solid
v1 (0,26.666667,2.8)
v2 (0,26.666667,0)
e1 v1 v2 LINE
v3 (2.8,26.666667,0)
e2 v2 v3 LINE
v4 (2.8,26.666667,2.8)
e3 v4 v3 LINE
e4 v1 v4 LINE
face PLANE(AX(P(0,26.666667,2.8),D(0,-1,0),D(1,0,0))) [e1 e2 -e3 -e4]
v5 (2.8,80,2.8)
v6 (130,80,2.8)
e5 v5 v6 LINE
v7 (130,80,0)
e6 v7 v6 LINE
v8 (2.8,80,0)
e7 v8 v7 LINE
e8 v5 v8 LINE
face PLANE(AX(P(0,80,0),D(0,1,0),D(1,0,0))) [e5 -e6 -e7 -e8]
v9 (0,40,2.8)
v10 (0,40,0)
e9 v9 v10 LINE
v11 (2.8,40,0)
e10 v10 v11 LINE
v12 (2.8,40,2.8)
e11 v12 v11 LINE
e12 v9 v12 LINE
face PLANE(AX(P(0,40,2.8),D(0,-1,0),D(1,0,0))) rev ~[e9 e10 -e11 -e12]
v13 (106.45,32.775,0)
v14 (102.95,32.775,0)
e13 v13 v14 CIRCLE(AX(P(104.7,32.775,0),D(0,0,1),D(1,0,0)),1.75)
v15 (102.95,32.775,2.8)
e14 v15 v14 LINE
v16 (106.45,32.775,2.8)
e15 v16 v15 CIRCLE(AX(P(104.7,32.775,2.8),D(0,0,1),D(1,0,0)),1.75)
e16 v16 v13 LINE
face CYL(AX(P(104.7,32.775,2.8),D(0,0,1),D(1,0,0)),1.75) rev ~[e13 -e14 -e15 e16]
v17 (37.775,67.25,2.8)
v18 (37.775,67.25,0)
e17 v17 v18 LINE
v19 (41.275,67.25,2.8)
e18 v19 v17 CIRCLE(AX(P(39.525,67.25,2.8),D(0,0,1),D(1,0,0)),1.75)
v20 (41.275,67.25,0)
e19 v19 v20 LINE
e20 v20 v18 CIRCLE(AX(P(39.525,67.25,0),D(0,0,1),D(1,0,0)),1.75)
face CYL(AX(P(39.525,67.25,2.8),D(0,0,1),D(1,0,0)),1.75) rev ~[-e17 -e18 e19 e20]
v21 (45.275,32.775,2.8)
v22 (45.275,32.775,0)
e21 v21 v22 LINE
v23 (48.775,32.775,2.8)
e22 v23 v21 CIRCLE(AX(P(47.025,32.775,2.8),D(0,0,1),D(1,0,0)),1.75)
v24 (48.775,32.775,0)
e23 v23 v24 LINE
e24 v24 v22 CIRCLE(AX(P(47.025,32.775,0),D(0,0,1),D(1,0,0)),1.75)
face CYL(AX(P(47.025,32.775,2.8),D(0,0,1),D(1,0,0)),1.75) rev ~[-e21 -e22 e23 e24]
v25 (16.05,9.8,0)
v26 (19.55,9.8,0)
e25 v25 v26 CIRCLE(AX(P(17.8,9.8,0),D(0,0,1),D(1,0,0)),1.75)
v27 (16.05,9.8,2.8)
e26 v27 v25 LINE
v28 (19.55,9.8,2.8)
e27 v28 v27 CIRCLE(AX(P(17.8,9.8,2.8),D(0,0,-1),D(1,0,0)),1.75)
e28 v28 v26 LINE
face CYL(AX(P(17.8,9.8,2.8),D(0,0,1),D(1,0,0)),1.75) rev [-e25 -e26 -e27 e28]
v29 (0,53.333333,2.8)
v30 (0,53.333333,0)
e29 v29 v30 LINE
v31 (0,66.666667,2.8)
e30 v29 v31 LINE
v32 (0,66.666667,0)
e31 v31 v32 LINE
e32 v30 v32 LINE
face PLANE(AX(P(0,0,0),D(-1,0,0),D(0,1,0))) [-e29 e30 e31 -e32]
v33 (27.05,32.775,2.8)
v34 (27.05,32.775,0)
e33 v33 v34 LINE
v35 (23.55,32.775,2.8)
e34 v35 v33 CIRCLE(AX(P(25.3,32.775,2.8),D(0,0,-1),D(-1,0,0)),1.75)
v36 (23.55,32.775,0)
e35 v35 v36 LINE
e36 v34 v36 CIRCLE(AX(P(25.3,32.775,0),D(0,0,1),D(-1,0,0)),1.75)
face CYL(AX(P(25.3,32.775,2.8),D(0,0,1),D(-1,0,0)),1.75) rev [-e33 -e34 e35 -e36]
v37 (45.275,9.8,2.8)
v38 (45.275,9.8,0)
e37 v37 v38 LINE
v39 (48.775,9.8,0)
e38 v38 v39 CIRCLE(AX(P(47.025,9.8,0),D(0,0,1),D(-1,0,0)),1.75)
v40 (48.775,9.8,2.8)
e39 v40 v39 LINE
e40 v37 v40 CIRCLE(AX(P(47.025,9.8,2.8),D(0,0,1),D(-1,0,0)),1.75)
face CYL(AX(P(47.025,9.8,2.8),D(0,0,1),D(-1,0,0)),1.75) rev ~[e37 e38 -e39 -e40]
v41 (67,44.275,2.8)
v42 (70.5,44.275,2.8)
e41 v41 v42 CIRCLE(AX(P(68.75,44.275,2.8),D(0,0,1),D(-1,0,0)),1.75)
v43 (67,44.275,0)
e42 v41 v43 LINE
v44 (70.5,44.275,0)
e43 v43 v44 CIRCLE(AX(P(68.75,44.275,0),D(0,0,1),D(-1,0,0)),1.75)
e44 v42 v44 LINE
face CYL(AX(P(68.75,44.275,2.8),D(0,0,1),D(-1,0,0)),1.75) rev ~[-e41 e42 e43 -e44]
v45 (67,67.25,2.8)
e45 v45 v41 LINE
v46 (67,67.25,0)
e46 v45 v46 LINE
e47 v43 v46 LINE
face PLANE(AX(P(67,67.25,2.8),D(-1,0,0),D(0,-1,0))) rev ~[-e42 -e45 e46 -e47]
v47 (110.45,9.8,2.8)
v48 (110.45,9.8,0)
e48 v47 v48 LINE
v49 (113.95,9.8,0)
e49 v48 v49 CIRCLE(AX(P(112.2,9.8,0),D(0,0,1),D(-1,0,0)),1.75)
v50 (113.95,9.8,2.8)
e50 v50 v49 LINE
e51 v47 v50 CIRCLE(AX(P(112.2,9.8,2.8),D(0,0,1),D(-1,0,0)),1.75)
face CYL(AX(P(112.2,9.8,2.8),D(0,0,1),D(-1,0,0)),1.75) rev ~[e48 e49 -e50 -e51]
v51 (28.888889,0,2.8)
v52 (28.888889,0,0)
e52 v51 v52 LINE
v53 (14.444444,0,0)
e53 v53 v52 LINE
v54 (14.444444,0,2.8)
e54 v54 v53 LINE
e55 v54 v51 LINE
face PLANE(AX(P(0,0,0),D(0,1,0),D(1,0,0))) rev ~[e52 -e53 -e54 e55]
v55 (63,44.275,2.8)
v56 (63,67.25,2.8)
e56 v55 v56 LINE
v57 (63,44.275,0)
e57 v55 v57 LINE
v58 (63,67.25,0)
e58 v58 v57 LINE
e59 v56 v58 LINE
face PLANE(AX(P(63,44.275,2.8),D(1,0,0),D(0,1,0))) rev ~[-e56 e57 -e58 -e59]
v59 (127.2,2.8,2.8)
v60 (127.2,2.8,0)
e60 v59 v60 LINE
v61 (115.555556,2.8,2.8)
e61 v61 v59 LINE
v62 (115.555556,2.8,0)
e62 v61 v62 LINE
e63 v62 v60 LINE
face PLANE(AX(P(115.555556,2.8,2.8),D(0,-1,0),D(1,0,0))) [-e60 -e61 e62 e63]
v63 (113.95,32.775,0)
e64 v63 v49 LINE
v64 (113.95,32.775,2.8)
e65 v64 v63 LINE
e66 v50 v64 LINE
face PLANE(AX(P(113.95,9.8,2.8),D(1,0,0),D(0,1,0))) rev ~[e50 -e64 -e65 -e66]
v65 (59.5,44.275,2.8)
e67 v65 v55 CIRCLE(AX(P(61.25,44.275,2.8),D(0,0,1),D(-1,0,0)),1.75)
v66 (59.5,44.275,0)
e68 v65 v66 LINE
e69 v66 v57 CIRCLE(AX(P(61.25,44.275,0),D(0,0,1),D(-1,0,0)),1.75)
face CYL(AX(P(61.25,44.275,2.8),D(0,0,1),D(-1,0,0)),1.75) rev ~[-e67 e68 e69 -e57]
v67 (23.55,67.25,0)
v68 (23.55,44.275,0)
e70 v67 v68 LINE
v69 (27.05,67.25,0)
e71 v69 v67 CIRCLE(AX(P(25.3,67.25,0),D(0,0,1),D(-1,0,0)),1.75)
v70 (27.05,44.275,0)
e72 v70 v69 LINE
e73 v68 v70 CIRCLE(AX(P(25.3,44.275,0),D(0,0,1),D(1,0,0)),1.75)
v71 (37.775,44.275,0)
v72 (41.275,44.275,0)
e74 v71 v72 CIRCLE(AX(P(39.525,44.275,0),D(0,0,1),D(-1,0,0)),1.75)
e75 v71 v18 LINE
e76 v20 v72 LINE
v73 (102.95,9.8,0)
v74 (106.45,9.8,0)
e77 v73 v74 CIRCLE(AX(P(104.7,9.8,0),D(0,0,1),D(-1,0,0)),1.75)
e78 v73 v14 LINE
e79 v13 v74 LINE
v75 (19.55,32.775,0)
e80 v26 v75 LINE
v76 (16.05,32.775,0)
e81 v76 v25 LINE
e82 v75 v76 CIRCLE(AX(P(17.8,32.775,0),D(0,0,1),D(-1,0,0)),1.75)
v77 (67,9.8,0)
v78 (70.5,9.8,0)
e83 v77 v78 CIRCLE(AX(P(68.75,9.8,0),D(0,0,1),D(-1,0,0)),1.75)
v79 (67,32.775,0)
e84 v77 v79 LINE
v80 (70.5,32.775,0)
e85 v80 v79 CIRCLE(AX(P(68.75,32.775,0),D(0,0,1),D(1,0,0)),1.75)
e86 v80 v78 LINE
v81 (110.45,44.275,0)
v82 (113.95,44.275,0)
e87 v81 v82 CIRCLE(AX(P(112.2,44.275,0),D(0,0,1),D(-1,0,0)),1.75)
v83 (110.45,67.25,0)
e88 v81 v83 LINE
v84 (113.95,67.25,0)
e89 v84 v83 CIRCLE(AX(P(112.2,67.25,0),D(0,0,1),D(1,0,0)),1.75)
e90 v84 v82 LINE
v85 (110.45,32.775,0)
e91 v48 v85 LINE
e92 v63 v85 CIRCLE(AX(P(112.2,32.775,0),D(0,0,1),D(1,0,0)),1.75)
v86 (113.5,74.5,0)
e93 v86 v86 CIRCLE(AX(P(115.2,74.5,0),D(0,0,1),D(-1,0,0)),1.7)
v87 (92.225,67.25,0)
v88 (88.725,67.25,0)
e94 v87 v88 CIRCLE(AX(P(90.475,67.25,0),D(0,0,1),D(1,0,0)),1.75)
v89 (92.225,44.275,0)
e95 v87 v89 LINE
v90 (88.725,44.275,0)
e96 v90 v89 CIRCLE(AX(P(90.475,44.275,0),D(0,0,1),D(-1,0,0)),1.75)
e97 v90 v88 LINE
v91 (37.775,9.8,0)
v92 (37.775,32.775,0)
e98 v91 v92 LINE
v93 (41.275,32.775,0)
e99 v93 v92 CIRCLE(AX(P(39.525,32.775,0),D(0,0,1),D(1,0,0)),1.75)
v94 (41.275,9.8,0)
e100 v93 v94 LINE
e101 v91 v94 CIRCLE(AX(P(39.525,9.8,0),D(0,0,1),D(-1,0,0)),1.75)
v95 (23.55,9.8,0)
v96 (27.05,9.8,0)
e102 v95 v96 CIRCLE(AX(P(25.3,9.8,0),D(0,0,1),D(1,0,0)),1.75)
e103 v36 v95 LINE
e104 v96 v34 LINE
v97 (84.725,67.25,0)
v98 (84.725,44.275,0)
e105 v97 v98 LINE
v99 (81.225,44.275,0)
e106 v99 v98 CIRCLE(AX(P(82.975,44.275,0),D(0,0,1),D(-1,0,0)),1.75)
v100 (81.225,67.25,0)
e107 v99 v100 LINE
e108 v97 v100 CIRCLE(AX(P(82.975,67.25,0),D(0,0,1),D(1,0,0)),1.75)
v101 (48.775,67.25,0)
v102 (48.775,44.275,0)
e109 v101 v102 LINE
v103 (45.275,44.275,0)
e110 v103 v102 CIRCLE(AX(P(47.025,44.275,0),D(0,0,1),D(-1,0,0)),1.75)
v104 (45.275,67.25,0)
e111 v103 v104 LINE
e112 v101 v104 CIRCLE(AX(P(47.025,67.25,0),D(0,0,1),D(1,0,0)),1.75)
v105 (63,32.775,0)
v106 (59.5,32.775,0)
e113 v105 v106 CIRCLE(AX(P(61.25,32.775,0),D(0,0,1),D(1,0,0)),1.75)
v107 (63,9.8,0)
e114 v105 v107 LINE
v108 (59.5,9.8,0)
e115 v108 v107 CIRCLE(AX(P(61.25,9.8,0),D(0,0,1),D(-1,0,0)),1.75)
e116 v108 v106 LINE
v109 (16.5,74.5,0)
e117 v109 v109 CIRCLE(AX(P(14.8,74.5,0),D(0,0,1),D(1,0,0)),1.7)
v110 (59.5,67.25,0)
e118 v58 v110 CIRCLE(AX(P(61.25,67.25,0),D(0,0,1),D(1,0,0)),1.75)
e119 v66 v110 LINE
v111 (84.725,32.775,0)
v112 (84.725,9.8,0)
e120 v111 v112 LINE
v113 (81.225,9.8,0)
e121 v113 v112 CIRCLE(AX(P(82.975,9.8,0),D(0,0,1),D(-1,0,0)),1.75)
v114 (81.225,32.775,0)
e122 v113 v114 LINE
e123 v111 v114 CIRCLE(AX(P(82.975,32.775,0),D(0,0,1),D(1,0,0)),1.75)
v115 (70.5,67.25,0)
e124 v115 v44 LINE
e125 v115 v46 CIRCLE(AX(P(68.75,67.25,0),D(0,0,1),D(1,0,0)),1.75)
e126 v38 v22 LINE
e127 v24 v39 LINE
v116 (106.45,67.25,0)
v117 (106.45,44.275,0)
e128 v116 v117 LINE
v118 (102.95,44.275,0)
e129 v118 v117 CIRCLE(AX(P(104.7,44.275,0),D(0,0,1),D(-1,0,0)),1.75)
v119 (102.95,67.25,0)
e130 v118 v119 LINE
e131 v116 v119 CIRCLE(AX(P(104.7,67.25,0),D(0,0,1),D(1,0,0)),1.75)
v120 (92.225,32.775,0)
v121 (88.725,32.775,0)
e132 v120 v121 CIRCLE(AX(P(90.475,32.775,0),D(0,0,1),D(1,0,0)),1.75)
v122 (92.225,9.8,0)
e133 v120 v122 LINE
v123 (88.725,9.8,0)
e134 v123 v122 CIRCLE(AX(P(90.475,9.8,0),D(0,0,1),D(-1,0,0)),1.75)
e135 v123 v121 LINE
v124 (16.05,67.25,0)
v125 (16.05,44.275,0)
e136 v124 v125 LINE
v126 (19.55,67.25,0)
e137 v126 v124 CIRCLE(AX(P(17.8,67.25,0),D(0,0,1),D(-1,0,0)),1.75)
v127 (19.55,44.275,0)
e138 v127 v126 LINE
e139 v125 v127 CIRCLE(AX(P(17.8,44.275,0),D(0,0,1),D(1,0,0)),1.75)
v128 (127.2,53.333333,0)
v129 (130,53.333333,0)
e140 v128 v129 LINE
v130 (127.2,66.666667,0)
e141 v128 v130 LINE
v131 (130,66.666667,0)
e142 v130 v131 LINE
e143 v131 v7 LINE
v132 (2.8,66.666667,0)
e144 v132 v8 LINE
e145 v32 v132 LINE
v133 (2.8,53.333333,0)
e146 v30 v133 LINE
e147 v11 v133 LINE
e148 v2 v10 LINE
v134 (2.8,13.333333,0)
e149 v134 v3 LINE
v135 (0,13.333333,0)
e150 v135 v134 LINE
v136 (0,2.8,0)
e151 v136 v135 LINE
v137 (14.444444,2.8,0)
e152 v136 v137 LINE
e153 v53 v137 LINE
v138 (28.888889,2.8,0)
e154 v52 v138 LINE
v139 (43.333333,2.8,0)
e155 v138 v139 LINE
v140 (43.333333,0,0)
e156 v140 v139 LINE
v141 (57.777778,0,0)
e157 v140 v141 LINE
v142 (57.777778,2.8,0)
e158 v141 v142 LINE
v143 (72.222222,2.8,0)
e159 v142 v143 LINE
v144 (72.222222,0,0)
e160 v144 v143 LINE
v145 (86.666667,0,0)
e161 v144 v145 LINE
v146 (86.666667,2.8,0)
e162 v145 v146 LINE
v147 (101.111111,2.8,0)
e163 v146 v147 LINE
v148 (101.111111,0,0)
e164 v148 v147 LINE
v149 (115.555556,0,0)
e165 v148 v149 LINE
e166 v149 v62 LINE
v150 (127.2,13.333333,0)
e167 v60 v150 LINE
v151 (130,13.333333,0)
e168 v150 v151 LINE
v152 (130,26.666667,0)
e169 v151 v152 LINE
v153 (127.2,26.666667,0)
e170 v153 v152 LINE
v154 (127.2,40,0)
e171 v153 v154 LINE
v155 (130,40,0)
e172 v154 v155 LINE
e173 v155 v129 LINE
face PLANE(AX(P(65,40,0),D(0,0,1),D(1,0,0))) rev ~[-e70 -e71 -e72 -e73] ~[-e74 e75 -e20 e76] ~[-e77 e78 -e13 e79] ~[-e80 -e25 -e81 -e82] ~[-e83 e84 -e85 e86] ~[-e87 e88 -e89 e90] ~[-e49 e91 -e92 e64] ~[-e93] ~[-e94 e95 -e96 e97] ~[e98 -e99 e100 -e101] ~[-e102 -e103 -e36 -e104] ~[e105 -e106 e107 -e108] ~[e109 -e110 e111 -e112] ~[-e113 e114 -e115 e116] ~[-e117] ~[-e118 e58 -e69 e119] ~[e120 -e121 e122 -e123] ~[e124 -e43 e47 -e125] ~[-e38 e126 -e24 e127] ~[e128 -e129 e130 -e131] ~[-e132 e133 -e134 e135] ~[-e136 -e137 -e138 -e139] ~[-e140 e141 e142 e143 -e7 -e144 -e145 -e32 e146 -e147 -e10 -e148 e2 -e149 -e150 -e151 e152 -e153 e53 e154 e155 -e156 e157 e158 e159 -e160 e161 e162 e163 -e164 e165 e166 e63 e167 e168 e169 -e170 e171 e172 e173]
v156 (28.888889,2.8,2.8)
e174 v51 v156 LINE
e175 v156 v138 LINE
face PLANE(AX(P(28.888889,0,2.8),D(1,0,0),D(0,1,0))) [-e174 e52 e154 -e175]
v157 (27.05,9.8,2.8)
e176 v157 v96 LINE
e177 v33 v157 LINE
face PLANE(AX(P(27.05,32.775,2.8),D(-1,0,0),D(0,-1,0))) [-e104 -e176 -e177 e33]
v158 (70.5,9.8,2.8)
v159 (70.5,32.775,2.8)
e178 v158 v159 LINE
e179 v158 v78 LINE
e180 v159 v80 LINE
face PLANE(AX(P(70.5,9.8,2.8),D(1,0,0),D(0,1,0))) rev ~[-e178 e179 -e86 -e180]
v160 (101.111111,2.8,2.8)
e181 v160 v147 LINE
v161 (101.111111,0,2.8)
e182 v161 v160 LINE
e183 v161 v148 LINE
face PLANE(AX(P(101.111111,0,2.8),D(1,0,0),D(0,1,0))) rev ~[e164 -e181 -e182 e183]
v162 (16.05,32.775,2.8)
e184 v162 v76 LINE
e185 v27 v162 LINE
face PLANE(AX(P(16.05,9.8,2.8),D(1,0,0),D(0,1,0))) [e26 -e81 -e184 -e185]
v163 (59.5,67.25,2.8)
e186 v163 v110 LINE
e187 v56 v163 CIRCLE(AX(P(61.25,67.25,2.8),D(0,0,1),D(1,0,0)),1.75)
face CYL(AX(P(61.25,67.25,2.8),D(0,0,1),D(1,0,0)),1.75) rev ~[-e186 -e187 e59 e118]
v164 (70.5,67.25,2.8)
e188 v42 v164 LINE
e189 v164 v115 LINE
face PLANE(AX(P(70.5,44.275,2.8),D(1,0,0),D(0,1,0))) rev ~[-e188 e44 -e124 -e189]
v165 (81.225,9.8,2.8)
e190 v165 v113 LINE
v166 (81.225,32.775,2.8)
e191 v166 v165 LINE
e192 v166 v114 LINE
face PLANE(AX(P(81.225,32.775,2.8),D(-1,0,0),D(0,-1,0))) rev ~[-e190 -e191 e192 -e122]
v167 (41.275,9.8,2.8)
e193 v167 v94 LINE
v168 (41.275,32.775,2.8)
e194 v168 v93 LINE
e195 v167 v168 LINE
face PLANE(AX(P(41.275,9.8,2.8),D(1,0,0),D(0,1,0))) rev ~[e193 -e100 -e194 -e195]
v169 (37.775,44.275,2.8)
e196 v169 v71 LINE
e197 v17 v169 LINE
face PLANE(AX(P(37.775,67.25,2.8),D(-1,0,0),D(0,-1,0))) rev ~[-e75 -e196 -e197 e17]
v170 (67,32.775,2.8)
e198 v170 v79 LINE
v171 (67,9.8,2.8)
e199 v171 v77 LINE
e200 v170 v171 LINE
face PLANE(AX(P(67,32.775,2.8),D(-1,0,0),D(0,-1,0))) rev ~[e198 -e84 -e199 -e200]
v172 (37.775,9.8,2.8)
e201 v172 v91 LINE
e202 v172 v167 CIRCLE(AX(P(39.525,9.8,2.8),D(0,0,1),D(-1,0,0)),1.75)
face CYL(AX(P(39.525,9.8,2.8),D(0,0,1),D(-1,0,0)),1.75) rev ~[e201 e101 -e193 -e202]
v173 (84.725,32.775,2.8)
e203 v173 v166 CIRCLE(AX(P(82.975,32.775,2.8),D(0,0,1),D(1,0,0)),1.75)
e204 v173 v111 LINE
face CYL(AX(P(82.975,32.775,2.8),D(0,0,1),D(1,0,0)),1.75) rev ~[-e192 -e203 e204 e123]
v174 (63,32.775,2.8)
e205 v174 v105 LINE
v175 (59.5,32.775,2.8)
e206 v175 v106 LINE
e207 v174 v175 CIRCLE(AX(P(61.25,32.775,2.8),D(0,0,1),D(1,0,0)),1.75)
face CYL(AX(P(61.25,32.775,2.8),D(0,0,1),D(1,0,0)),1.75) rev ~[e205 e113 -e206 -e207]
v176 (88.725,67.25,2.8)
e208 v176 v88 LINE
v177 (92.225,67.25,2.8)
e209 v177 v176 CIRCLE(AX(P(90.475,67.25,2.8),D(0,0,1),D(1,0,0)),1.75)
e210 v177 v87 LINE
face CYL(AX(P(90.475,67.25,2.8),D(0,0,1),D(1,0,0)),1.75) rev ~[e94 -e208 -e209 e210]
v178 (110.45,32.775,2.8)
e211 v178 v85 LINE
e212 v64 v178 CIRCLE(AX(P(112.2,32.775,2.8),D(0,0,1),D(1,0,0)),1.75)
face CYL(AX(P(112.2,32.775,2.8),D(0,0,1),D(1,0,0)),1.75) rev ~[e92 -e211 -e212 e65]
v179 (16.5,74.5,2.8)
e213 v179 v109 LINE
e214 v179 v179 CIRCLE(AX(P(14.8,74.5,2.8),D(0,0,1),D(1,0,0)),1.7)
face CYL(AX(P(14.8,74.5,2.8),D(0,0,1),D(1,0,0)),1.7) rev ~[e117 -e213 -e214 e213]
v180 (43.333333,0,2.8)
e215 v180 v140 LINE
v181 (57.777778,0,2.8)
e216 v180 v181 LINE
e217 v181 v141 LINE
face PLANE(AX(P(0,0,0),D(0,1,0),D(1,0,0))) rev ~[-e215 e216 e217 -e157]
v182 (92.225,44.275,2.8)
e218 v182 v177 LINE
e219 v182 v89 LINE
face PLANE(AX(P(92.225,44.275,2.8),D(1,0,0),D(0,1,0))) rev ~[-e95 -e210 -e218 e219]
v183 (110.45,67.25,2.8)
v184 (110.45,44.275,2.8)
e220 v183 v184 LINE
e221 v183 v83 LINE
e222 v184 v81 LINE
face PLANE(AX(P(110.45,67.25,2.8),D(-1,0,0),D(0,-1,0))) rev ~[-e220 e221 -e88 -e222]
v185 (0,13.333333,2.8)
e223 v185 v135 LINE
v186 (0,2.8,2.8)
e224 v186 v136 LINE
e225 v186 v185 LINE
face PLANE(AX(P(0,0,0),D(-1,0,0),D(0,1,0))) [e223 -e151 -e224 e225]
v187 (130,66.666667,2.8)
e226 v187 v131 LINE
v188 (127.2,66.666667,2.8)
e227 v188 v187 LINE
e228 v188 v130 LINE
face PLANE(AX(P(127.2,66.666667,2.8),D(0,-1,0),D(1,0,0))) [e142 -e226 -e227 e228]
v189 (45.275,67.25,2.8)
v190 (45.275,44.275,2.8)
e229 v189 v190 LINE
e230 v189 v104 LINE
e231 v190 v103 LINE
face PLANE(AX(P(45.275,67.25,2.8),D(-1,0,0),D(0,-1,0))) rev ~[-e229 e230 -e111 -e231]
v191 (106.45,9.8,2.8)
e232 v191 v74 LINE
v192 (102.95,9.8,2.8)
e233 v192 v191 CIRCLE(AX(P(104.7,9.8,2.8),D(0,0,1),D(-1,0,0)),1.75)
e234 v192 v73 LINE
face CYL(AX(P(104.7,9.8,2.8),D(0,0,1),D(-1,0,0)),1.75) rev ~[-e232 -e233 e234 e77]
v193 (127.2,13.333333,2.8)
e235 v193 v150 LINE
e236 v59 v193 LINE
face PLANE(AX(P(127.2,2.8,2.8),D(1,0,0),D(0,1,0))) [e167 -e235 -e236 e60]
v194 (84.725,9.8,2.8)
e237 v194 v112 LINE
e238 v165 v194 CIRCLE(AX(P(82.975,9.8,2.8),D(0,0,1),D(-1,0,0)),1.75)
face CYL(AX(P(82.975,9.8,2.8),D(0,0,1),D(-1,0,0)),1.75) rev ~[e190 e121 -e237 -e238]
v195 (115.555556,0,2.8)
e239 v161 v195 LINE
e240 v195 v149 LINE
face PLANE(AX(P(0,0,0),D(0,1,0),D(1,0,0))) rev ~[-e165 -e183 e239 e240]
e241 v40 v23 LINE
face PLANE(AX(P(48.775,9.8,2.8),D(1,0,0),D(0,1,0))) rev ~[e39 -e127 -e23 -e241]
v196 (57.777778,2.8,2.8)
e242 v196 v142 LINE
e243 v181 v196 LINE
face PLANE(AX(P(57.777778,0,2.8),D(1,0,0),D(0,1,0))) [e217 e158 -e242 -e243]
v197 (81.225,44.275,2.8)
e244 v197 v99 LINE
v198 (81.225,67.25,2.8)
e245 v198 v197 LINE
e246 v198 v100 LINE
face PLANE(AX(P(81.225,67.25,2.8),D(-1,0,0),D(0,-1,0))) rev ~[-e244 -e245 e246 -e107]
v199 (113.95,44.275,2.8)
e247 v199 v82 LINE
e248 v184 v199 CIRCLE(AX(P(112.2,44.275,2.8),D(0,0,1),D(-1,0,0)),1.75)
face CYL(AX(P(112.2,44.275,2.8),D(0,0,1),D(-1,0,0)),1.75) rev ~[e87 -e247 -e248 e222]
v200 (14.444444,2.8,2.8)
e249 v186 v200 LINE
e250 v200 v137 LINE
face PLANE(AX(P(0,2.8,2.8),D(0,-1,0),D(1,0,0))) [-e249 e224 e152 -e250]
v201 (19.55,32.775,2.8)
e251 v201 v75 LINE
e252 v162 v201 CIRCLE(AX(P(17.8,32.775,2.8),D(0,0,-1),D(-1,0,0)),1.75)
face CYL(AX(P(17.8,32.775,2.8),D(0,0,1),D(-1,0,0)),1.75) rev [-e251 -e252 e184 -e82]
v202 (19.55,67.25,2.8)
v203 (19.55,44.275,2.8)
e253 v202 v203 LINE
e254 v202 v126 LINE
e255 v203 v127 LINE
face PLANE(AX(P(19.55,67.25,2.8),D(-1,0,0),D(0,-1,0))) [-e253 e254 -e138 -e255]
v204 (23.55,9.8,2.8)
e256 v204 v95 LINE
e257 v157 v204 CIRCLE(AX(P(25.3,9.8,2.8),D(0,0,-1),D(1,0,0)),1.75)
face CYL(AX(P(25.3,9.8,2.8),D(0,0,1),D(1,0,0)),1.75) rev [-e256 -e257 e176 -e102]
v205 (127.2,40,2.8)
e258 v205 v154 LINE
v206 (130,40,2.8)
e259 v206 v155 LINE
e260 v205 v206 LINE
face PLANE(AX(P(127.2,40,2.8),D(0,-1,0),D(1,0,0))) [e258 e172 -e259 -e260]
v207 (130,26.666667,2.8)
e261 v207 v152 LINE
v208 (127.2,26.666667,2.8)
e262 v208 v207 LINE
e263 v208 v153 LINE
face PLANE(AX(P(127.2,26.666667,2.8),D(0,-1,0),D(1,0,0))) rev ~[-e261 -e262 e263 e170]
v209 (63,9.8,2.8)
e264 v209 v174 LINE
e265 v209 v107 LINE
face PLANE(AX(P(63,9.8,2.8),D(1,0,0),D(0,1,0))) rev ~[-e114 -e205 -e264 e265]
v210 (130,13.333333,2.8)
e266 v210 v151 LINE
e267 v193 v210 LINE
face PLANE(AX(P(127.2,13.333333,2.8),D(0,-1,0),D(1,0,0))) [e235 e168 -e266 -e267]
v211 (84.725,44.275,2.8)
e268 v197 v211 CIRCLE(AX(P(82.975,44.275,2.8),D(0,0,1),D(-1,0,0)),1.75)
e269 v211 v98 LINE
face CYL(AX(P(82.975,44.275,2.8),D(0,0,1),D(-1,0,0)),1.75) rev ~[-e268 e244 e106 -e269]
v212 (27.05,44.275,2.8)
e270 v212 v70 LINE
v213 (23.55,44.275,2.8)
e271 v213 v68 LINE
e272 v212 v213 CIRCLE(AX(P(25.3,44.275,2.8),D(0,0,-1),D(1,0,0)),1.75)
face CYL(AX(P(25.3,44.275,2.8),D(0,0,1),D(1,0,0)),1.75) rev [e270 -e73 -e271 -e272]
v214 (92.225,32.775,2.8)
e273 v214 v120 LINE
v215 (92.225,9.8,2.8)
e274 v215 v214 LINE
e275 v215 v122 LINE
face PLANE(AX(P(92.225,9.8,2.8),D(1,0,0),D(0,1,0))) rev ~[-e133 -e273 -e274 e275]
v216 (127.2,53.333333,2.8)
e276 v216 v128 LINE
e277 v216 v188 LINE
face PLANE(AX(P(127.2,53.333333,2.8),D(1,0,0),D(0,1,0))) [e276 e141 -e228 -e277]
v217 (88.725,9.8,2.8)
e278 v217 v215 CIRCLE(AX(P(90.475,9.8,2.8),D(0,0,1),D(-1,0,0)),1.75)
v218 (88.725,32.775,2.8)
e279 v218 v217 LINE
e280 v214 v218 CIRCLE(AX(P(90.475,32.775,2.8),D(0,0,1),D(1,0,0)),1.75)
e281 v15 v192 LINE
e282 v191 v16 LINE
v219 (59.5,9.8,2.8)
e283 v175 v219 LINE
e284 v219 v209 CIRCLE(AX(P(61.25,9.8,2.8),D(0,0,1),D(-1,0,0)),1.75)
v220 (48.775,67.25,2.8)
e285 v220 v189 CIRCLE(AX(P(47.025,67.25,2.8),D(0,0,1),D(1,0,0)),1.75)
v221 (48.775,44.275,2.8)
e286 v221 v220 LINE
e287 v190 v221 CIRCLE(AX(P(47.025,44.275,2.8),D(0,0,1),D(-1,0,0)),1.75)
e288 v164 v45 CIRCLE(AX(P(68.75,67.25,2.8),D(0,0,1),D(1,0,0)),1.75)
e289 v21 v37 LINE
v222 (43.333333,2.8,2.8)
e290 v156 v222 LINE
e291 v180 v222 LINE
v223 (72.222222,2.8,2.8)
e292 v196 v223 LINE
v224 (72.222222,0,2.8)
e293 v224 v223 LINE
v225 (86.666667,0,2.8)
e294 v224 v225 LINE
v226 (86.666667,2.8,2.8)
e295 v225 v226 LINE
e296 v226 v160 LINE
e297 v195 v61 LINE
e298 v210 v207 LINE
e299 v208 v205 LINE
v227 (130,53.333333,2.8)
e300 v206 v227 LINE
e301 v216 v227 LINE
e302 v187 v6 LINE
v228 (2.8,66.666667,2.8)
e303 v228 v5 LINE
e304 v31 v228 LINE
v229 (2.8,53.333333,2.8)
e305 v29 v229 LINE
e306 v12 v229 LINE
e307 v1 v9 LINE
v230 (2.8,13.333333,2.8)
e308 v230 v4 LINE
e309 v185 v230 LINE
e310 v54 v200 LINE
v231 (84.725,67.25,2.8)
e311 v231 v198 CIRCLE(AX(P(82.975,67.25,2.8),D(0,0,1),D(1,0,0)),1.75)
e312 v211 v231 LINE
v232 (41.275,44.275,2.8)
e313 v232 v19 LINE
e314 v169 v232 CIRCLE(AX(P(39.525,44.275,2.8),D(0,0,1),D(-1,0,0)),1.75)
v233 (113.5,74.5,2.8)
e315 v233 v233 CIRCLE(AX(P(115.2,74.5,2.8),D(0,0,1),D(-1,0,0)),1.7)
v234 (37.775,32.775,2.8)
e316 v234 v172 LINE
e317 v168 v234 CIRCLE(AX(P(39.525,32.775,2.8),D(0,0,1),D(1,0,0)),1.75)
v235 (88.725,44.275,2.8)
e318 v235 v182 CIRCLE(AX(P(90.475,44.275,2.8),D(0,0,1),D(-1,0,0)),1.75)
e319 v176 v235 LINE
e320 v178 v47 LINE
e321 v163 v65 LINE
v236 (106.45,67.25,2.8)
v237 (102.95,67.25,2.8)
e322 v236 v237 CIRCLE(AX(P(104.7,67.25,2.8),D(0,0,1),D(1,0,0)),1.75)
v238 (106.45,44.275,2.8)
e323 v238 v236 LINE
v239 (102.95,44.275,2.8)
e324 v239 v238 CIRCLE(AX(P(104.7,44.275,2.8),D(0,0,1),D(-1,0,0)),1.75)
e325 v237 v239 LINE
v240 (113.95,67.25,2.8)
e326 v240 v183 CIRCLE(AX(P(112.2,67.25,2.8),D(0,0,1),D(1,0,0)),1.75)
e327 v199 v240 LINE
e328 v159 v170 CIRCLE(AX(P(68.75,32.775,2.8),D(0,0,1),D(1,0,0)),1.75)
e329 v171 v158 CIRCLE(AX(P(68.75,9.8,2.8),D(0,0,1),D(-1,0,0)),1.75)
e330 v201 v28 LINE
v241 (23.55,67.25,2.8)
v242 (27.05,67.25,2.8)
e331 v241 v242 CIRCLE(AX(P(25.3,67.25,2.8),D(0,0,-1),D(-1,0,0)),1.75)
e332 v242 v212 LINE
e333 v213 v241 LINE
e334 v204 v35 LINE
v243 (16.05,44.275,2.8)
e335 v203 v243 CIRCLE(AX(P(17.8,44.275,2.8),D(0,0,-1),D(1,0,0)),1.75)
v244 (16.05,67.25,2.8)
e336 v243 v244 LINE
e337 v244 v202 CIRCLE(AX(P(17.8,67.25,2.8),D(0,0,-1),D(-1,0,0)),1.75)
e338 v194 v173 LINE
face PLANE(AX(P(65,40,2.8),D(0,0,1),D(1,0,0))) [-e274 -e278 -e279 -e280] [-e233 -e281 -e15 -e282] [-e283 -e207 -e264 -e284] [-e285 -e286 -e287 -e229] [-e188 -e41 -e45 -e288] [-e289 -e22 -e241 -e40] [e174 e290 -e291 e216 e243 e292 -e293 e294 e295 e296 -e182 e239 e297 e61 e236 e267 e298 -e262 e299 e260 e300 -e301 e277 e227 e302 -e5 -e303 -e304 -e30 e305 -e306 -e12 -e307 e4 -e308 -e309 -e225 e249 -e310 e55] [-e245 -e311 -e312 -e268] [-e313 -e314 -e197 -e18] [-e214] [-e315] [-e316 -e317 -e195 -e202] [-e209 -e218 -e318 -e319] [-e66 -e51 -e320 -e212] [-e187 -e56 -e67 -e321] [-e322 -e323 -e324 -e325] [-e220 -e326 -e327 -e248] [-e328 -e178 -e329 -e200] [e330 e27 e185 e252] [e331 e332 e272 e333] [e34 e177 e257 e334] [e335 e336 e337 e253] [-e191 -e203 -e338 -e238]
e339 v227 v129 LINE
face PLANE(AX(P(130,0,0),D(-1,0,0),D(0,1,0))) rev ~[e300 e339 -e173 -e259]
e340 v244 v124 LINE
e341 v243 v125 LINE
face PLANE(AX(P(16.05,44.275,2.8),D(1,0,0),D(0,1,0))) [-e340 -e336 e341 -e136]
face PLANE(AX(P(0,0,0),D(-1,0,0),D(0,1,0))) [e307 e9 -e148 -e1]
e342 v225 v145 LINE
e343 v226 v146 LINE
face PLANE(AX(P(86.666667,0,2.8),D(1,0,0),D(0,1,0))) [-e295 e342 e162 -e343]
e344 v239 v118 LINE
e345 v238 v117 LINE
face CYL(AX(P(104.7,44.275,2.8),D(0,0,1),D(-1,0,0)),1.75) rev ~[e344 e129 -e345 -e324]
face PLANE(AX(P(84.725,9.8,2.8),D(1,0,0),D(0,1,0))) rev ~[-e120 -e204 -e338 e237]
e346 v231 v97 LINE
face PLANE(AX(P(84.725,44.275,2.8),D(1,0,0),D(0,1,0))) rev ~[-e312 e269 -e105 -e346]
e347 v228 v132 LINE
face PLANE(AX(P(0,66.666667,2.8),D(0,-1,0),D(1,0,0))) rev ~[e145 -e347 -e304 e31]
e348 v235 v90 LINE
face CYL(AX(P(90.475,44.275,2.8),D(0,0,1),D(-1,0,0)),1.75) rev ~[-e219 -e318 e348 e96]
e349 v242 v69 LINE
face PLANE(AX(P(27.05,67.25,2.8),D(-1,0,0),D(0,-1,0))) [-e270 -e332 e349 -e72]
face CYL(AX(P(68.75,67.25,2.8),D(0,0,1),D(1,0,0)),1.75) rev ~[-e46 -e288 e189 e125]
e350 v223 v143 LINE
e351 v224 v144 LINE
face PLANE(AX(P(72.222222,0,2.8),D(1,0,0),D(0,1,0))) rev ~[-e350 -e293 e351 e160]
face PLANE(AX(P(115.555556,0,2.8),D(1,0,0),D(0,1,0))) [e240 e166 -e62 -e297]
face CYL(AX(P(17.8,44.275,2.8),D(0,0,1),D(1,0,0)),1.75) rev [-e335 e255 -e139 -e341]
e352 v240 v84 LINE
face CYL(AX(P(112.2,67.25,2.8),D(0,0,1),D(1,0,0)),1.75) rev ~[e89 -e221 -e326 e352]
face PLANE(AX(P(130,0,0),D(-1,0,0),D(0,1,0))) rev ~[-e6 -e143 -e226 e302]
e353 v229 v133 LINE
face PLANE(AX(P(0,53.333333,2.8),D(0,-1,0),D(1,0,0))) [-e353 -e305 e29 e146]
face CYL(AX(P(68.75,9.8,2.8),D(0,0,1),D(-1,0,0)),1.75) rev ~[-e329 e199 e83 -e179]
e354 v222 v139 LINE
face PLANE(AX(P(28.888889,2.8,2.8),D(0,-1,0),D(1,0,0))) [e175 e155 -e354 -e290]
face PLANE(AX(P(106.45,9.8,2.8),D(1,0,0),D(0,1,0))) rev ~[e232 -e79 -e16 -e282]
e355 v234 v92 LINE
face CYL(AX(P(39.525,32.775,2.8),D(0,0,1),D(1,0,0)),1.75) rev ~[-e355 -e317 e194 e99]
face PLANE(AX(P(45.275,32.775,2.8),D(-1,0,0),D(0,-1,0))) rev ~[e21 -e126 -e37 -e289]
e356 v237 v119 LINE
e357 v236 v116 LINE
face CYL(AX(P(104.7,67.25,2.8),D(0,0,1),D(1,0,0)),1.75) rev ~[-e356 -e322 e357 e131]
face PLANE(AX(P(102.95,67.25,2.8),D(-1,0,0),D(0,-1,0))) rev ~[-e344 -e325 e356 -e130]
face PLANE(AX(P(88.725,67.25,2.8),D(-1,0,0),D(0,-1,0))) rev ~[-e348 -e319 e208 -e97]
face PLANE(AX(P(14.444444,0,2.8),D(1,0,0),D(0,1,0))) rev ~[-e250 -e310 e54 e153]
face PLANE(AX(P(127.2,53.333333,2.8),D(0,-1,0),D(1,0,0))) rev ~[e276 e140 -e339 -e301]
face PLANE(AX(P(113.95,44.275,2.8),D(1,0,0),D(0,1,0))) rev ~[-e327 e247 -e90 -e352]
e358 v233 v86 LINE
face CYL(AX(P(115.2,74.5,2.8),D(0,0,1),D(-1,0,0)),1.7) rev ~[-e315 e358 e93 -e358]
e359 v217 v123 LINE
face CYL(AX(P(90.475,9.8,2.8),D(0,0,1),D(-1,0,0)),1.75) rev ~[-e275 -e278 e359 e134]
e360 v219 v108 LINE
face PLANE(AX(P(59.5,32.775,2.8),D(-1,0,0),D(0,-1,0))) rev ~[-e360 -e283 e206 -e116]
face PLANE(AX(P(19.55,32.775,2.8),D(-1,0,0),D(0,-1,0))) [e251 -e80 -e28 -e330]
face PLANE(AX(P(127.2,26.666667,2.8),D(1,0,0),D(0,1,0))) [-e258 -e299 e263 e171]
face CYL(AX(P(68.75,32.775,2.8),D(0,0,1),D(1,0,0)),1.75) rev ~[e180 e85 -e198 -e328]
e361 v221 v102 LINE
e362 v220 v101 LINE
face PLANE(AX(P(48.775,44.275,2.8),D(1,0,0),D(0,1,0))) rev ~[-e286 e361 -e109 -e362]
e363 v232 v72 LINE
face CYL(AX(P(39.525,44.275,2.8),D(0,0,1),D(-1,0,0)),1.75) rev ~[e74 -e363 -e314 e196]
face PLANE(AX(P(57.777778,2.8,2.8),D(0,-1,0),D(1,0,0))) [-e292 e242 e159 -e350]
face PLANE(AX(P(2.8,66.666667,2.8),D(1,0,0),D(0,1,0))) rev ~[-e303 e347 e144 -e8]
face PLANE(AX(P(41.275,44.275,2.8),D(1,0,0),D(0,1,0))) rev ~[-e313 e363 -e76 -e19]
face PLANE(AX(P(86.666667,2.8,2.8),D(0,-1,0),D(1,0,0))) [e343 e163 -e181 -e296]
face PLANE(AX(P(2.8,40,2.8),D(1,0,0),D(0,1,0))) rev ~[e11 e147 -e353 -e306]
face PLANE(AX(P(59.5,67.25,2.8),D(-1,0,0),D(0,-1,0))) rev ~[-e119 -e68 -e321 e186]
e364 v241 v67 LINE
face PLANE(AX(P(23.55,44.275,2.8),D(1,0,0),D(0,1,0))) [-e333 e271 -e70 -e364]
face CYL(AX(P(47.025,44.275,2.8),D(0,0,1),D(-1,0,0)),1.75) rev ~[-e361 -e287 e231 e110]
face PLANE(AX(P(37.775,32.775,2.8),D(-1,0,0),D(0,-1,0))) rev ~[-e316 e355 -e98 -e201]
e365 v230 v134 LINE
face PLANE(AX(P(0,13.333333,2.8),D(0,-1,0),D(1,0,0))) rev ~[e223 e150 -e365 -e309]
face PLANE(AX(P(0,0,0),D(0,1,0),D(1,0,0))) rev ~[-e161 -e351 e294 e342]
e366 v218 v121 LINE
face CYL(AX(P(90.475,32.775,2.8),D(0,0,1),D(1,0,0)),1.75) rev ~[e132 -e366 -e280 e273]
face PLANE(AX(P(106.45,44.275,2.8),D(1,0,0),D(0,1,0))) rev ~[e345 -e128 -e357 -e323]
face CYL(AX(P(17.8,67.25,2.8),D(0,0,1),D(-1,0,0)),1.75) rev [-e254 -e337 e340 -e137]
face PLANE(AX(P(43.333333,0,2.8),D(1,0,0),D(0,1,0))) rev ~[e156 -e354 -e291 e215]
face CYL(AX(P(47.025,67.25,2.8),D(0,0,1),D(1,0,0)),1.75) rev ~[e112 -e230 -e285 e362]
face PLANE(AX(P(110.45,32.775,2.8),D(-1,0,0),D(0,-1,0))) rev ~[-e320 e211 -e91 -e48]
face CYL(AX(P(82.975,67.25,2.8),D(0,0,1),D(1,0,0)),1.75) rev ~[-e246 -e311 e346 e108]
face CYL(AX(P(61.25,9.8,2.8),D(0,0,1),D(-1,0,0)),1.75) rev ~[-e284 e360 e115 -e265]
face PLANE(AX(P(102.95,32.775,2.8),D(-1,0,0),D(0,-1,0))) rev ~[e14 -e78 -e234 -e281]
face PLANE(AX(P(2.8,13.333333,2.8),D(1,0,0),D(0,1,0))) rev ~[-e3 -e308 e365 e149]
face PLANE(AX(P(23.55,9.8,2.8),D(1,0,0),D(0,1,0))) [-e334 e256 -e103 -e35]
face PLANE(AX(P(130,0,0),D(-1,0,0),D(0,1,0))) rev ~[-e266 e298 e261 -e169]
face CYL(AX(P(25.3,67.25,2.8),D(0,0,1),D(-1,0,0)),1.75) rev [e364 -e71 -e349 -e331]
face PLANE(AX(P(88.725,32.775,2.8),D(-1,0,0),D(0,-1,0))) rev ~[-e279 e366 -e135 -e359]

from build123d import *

# Parameters (mm, degrees)
SKETCH1_W           = 130
SKETCH1_H           = 80
BOSS_EXTRUDE1_DEPTH = 2.8
SKETCH2_W           = 14.444444444
SKETCH2_H           = 2.8
SKETCH2_W_2         = 2.8
SKETCH2_H_2         = 13.333333334
SKETCH2_H_3         = 13.333333333
CUT_EXTRUDE1_DEPTH  = 153.669053839
CUT_EXTRUDE2_REACH  = 154.669
SKETCH3_R           = 1.7
CUT_EXTRUDE3_REACH  = 154.669


with BuildPart() as part:
    # Sketch1 → Boss-Extrude1 (new body)
    with BuildSketch(Plane.XY):
        with Locations((65, 40)):
            Rectangle(SKETCH1_W, SKETCH1_H)
    extrude(amount=BOSS_EXTRUDE1_DEPTH)

    # Sketch2 → Cut-Extrude1 (cut, through all)
    with BuildSketch(Plane.XY.offset(2.8)):
        with Locations((7.222222222, 1.4)):
            Rectangle(SKETCH2_W, SKETCH2_H)
        with Locations((36.111111111, 1.4)):
            Rectangle(SKETCH2_W, SKETCH2_H)
        with Locations((65, 1.4)):
            Rectangle(SKETCH2_W, SKETCH2_H)
        with Locations((93.888888889, 1.4)):
            Rectangle(SKETCH2_W, SKETCH2_H)
        Polygon((115.555555556, 0), (115.555555556, 2.8), (127.2, 2.8), (127.2, 13.333333333), (130, 13.333333333), (130, 0), align=None)
        with Locations((1.4, 20)):
            Rectangle(SKETCH2_W_2, SKETCH2_H_2)
        with Locations((1.4, 46.666666667)):
            Rectangle(SKETCH2_W_2, SKETCH2_H_3)
        with Locations((1.4, 73.333333334)):
            Rectangle(SKETCH2_W_2, SKETCH2_H_3)
        with Locations((128.6, 33.333333334)):
            Rectangle(SKETCH2_W_2, SKETCH2_H_3)
        with Locations((128.6, 60)):
            Rectangle(SKETCH2_W_2, SKETCH2_H_2)
    extrude(amount=-CUT_EXTRUDE1_DEPTH, mode=Mode.SUBTRACT)

    # Sketch3 → Cut-Extrude2 (cut, up to next)
    with BuildSketch(Plane.XY.offset(2.8), mode=Mode.PRIVATE) as cut_extrude2_sk1:
        with Locations((14.8, 74.5)):
            Circle(SKETCH3_R)
    cut_extrude2_tool1 = extrude(cut_extrude2_sk1.sketch, amount=-CUT_EXTRUDE2_REACH, mode=Mode.PRIVATE) & part.part
    # Sketch3 → Cut-Extrude2 (cut, up to next)
    with BuildSketch(Plane.XY.offset(2.8), mode=Mode.PRIVATE) as cut_extrude2_sk2:
        with Locations(Location((115.2, 74.5, 0), (0, 0, 180))):
            Circle(SKETCH3_R)
    cut_extrude2_tool2 = extrude(cut_extrude2_sk2.sketch, amount=-CUT_EXTRUDE2_REACH, mode=Mode.PRIVATE) & part.part
    add(cut_extrude2_tool1.solids().sort_by_distance((14.8, 74.5, 2.8))[0], mode=Mode.SUBTRACT)
    add(cut_extrude2_tool2.solids().sort_by_distance((115.2, 74.5, 2.8))[0], mode=Mode.SUBTRACT)

    # Sketch4 → Cut-Extrude3 (cut, up to next)
    with BuildSketch(Plane.XY.offset(2.8), mode=Mode.PRIVATE) as cut_extrude3_sk1:
        with BuildLine():
            Line((16.05, 9.8), (16.05, 32.775))
            ThreePointArc((16.05, 32.775), (17.8, 34.525), (19.55, 32.775))
            Line((19.55, 32.775), (19.55, 9.8))
            ThreePointArc((19.55, 9.8), (17.8, 8.05), (16.05, 9.8))
        make_face()
    cut_extrude3_tool1 = extrude(cut_extrude3_sk1.sketch, amount=-CUT_EXTRUDE3_REACH, mode=Mode.PRIVATE) & part.part
    # Sketch4 → Cut-Extrude3 (cut, up to next)
    with BuildSketch(Plane.XY.offset(2.8), mode=Mode.PRIVATE) as cut_extrude3_sk2:
        with BuildLine():
            Line((16.05, 44.275), (16.05, 67.25))
            ThreePointArc((16.05, 67.25), (17.8, 69), (19.55, 67.25))
            Line((19.55, 67.25), (19.55, 44.275))
            ThreePointArc((19.55, 44.275), (17.8, 42.525), (16.05, 44.275))
        make_face()
    cut_extrude3_tool2 = extrude(cut_extrude3_sk2.sketch, amount=-CUT_EXTRUDE3_REACH, mode=Mode.PRIVATE) & part.part
    # Sketch4 → Cut-Extrude3 (cut, up to next)
    with BuildSketch(Plane.XY.offset(2.8), mode=Mode.PRIVATE) as cut_extrude3_sk3:
        with BuildLine():
            Line((23.55, 9.8), (23.55, 32.775))
            ThreePointArc((23.55, 32.775), (25.3, 34.525), (27.05, 32.775))
            Line((27.05, 32.775), (27.05, 9.8))
            ThreePointArc((27.05, 9.8), (25.3, 8.05), (23.55, 9.8))
        make_face()
    cut_extrude3_tool3 = extrude(cut_extrude3_sk3.sketch, amount=-CUT_EXTRUDE3_REACH, mode=Mode.PRIVATE) & part.part
    # Sketch4 → Cut-Extrude3 (cut, up to next)
    with BuildSketch(Plane.XY.offset(2.8), mode=Mode.PRIVATE) as cut_extrude3_sk4:
        with BuildLine():
            Line((23.55, 44.275), (23.55, 67.25))
            ThreePointArc((23.55, 67.25), (25.3, 69), (27.05, 67.25))
            Line((27.05, 67.25), (27.05, 44.275))
            ThreePointArc((27.05, 44.275), (25.3, 42.525), (23.55, 44.275))
        make_face()
    cut_extrude3_tool4 = extrude(cut_extrude3_sk4.sketch, amount=-CUT_EXTRUDE3_REACH, mode=Mode.PRIVATE) & part.part
    # Sketch4 → Cut-Extrude3 (cut, up to next)
    with BuildSketch(Plane.XY.offset(2.8), mode=Mode.PRIVATE) as cut_extrude3_sk5:
        with BuildLine():
            Line((41.275, 9.8), (41.275, 32.775))
            ThreePointArc((41.275, 32.775), (39.525, 34.525), (37.775, 32.775))
            Line((37.775, 32.775), (37.775, 9.8))
            ThreePointArc((37.775, 9.8), (39.525, 8.05), (41.275, 9.8))
        make_face()
    cut_extrude3_tool5 = extrude(cut_extrude3_sk5.sketch, amount=-CUT_EXTRUDE3_REACH, mode=Mode.PRIVATE) & part.part
    # Sketch4 → Cut-Extrude3 (cut, up to next)
    with BuildSketch(Plane.XY.offset(2.8), mode=Mode.PRIVATE) as cut_extrude3_sk6:
        with BuildLine():
            Line((48.775, 9.8), (48.775, 32.775))
            ThreePointArc((48.775, 32.775), (47.025, 34.525), (45.275, 32.775))
            Line((45.275, 32.775), (45.275, 9.8))
            ThreePointArc((45.275, 9.8), (47.025, 8.05), (48.775, 9.8))
        make_face()
    cut_extrude3_tool6 = extrude(cut_extrude3_sk6.sketch, amount=-CUT_EXTRUDE3_REACH, mode=Mode.PRIVATE) & part.part
    # Sketch4 → Cut-Extrude3 (cut, up to next)
    with BuildSketch(Plane.XY.offset(2.8), mode=Mode.PRIVATE) as cut_extrude3_sk7:
        with BuildLine():
            Line((48.775, 44.275), (48.775, 67.25))
            ThreePointArc((48.775, 67.25), (47.025, 69), (45.275, 67.25))
            Line((45.275, 67.25), (45.275, 44.275))
            ThreePointArc((45.275, 44.275), (47.025, 42.525), (48.775, 44.275))
        make_face()
    cut_extrude3_tool7 = extrude(cut_extrude3_sk7.sketch, amount=-CUT_EXTRUDE3_REACH, mode=Mode.PRIVATE) & part.part
    # Sketch4 → Cut-Extrude3 (cut, up to next)
    with BuildSketch(Plane.XY.offset(2.8), mode=Mode.PRIVATE) as cut_extrude3_sk8:
        with BuildLine():
            Line((41.275, 44.275), (41.275, 67.25))
            ThreePointArc((41.275, 67.25), (39.525, 69), (37.775, 67.25))
            Line((37.775, 67.25), (37.775, 44.275))
            ThreePointArc((37.775, 44.275), (39.525, 42.525), (41.275, 44.275))
        make_face()
    cut_extrude3_tool8 = extrude(cut_extrude3_sk8.sketch, amount=-CUT_EXTRUDE3_REACH, mode=Mode.PRIVATE) & part.part
    # Sketch4 → Cut-Extrude3 (cut, up to next)
    with BuildSketch(Plane.XY.offset(2.8), mode=Mode.PRIVATE) as cut_extrude3_sk9:
        with BuildLine():
            Line((63, 9.8), (63, 32.775))
            ThreePointArc((63, 32.775), (61.25, 34.525), (59.5, 32.775))
            Line((59.5, 32.775), (59.5, 9.8))
            ThreePointArc((59.5, 9.8), (61.25, 8.05), (63, 9.8))
        make_face()
    cut_extrude3_tool9 = extrude(cut_extrude3_sk9.sketch, amount=-CUT_EXTRUDE3_REACH, mode=Mode.PRIVATE) & part.part
    # Sketch4 → Cut-Extrude3 (cut, up to next)
    with BuildSketch(Plane.XY.offset(2.8), mode=Mode.PRIVATE) as cut_extrude3_sk10:
        with BuildLine():
            Line((70.5, 9.8), (70.5, 32.775))
            ThreePointArc((70.5, 32.775), (68.75, 34.525), (67, 32.775))
            Line((67, 32.775), (67, 9.8))
            ThreePointArc((67, 9.8), (68.75, 8.05), (70.5, 9.8))
        make_face()
    cut_extrude3_tool10 = extrude(cut_extrude3_sk10.sketch, amount=-CUT_EXTRUDE3_REACH, mode=Mode.PRIVATE) & part.part
    # Sketch4 → Cut-Extrude3 (cut, up to next)
    with BuildSketch(Plane.XY.offset(2.8), mode=Mode.PRIVATE) as cut_extrude3_sk11:
        with BuildLine():
            Line((70.5, 44.275), (70.5, 67.25))
            ThreePointArc((70.5, 67.25), (68.75, 69), (67, 67.25))
            Line((67, 67.25), (67, 44.275))
            ThreePointArc((67, 44.275), (68.75, 42.525), (70.5, 44.275))
        make_face()
    cut_extrude3_tool11 = extrude(cut_extrude3_sk11.sketch, amount=-CUT_EXTRUDE3_REACH, mode=Mode.PRIVATE) & part.part
    # Sketch4 → Cut-Extrude3 (cut, up to next)
    with BuildSketch(Plane.XY.offset(2.8), mode=Mode.PRIVATE) as cut_extrude3_sk12:
        with BuildLine():
            Line((63, 44.275), (63, 67.25))
            ThreePointArc((63, 67.25), (61.25, 69), (59.5, 67.25))
            Line((59.5, 67.25), (59.5, 44.275))
            ThreePointArc((59.5, 44.275), (61.25, 42.525), (63, 44.275))
        make_face()
    cut_extrude3_tool12 = extrude(cut_extrude3_sk12.sketch, amount=-CUT_EXTRUDE3_REACH, mode=Mode.PRIVATE) & part.part
    # Sketch4 → Cut-Extrude3 (cut, up to next)
    with BuildSketch(Plane.XY.offset(2.8), mode=Mode.PRIVATE) as cut_extrude3_sk13:
        with BuildLine():
            Line((84.725, 9.8), (84.725, 32.775))
            ThreePointArc((84.725, 32.775), (82.975, 34.525), (81.225, 32.775))
            Line((81.225, 32.775), (81.225, 9.8))
            ThreePointArc((81.225, 9.8), (82.975, 8.05), (84.725, 9.8))
        make_face()
    cut_extrude3_tool13 = extrude(cut_extrude3_sk13.sketch, amount=-CUT_EXTRUDE3_REACH, mode=Mode.PRIVATE) & part.part
    # Sketch4 → Cut-Extrude3 (cut, up to next)
    with BuildSketch(Plane.XY.offset(2.8), mode=Mode.PRIVATE) as cut_extrude3_sk14:
        with BuildLine():
            Line((92.225, 9.8), (92.225, 32.775))
            ThreePointArc((92.225, 32.775), (90.475, 34.525), (88.725, 32.775))
            Line((88.725, 32.775), (88.725, 9.8))
            ThreePointArc((88.725, 9.8), (90.475, 8.05), (92.225, 9.8))
        make_face()
    cut_extrude3_tool14 = extrude(cut_extrude3_sk14.sketch, amount=-CUT_EXTRUDE3_REACH, mode=Mode.PRIVATE) & part.part
    # Sketch4 → Cut-Extrude3 (cut, up to next)
    with BuildSketch(Plane.XY.offset(2.8), mode=Mode.PRIVATE) as cut_extrude3_sk15:
        with BuildLine():
            Line((92.225, 44.275), (92.225, 67.25))
            ThreePointArc((92.225, 67.25), (90.475, 69), (88.725, 67.25))
            Line((88.725, 67.25), (88.725, 44.275))
            ThreePointArc((88.725, 44.275), (90.475, 42.525), (92.225, 44.275))
        make_face()
    cut_extrude3_tool15 = extrude(cut_extrude3_sk15.sketch, amount=-CUT_EXTRUDE3_REACH, mode=Mode.PRIVATE) & part.part
    # Sketch4 → Cut-Extrude3 (cut, up to next)
    with BuildSketch(Plane.XY.offset(2.8), mode=Mode.PRIVATE) as cut_extrude3_sk16:
        with BuildLine():
            Line((84.725, 44.275), (84.725, 67.25))
            ThreePointArc((84.725, 67.25), (82.975, 69), (81.225, 67.25))
            Line((81.225, 67.25), (81.225, 44.275))
            ThreePointArc((81.225, 44.275), (82.975, 42.525), (84.725, 44.275))
        make_face()
    cut_extrude3_tool16 = extrude(cut_extrude3_sk16.sketch, amount=-CUT_EXTRUDE3_REACH, mode=Mode.PRIVATE) & part.part
    # Sketch4 → Cut-Extrude3 (cut, up to next)
    with BuildSketch(Plane.XY.offset(2.8), mode=Mode.PRIVATE) as cut_extrude3_sk17:
        with BuildLine():
            Line((106.45, 9.8), (106.45, 32.775))
            ThreePointArc((106.45, 32.775), (104.7, 34.525), (102.95, 32.775))
            Line((102.95, 32.775), (102.95, 9.8))
            ThreePointArc((102.95, 9.8), (104.7, 8.05), (106.45, 9.8))
        make_face()
    cut_extrude3_tool17 = extrude(cut_extrude3_sk17.sketch, amount=-CUT_EXTRUDE3_REACH, mode=Mode.PRIVATE) & part.part
    # Sketch4 → Cut-Extrude3 (cut, up to next)
    with BuildSketch(Plane.XY.offset(2.8), mode=Mode.PRIVATE) as cut_extrude3_sk18:
        with BuildLine():
            Line((113.95, 9.8), (113.95, 32.775))
            ThreePointArc((113.95, 32.775), (112.2, 34.525), (110.45, 32.775))
            Line((110.45, 32.775), (110.45, 9.8))
            ThreePointArc((110.45, 9.8), (112.2, 8.05), (113.95, 9.8))
        make_face()
    cut_extrude3_tool18 = extrude(cut_extrude3_sk18.sketch, amount=-CUT_EXTRUDE3_REACH, mode=Mode.PRIVATE) & part.part
    # Sketch4 → Cut-Extrude3 (cut, up to next)
    with BuildSketch(Plane.XY.offset(2.8), mode=Mode.PRIVATE) as cut_extrude3_sk19:
        with BuildLine():
            Line((113.95, 44.275), (113.95, 67.25))
            ThreePointArc((113.95, 67.25), (112.2, 69), (110.45, 67.25))
            Line((110.45, 67.25), (110.45, 44.275))
            ThreePointArc((110.45, 44.275), (112.2, 42.525), (113.95, 44.275))
        make_face()
    cut_extrude3_tool19 = extrude(cut_extrude3_sk19.sketch, amount=-CUT_EXTRUDE3_REACH, mode=Mode.PRIVATE) & part.part
    # Sketch4 → Cut-Extrude3 (cut, up to next)
    with BuildSketch(Plane.XY.offset(2.8), mode=Mode.PRIVATE) as cut_extrude3_sk20:
        with BuildLine():
            Line((106.45, 44.275), (106.45, 67.25))
            ThreePointArc((106.45, 67.25), (104.7, 69), (102.95, 67.25))
            Line((102.95, 67.25), (102.95, 44.275))
            ThreePointArc((102.95, 44.275), (104.7, 42.525), (106.45, 44.275))
        make_face()
    cut_extrude3_tool20 = extrude(cut_extrude3_sk20.sketch, amount=-CUT_EXTRUDE3_REACH, mode=Mode.PRIVATE) & part.part
    add(cut_extrude3_tool1.solids().sort_by_distance((17.8, 21.2875, 2.8))[0], mode=Mode.SUBTRACT)
    add(cut_extrude3_tool2.solids().sort_by_distance((17.8, 55.7625, 2.8))[0], mode=Mode.SUBTRACT)
    add(cut_extrude3_tool3.solids().sort_by_distance((25.3, 21.2875, 2.8))[0], mode=Mode.SUBTRACT)
    add(cut_extrude3_tool4.solids().sort_by_distance((25.3, 55.7625, 2.8))[0], mode=Mode.SUBTRACT)
    add(cut_extrude3_tool5.solids().sort_by_distance((39.525, 21.2875, 2.8))[0], mode=Mode.SUBTRACT)
    add(cut_extrude3_tool6.solids().sort_by_distance((47.025, 21.2875, 2.8))[0], mode=Mode.SUBTRACT)
    add(cut_extrude3_tool7.solids().sort_by_distance((47.025, 55.7625, 2.8))[0], mode=Mode.SUBTRACT)
    add(cut_extrude3_tool8.solids().sort_by_distance((39.525, 55.7625, 2.8))[0], mode=Mode.SUBTRACT)
    add(cut_extrude3_tool9.solids().sort_by_distance((61.25, 21.2875, 2.8))[0], mode=Mode.SUBTRACT)
    add(cut_extrude3_tool10.solids().sort_by_distance((68.75, 21.2875, 2.8))[0], mode=Mode.SUBTRACT)
    add(cut_extrude3_tool11.solids().sort_by_distance((68.75, 55.7625, 2.8))[0], mode=Mode.SUBTRACT)
    add(cut_extrude3_tool12.solids().sort_by_distance((61.25, 55.7625, 2.8))[0], mode=Mode.SUBTRACT)
    add(cut_extrude3_tool13.solids().sort_by_distance((82.975, 21.2875, 2.8))[0], mode=Mode.SUBTRACT)
    add(cut_extrude3_tool14.solids().sort_by_distance((90.475, 21.2875, 2.8))[0], mode=Mode.SUBTRACT)
    add(cut_extrude3_tool15.solids().sort_by_distance((90.475, 55.7625, 2.8))[0], mode=Mode.SUBTRACT)
    add(cut_extrude3_tool16.solids().sort_by_distance((82.975, 55.7625, 2.8))[0], mode=Mode.SUBTRACT)
    add(cut_extrude3_tool17.solids().sort_by_distance((104.7, 21.2875, 2.8))[0], mode=Mode.SUBTRACT)
    add(cut_extrude3_tool18.solids().sort_by_distance((112.2, 21.2875, 2.8))[0], mode=Mode.SUBTRACT)
    add(cut_extrude3_tool19.solids().sort_by_distance((112.2, 55.7625, 2.8))[0], mode=Mode.SUBTRACT)
    add(cut_extrude3_tool20.solids().sort_by_distance((104.7, 55.7625, 2.8))[0], mode=Mode.SUBTRACT)


solid = part.part
